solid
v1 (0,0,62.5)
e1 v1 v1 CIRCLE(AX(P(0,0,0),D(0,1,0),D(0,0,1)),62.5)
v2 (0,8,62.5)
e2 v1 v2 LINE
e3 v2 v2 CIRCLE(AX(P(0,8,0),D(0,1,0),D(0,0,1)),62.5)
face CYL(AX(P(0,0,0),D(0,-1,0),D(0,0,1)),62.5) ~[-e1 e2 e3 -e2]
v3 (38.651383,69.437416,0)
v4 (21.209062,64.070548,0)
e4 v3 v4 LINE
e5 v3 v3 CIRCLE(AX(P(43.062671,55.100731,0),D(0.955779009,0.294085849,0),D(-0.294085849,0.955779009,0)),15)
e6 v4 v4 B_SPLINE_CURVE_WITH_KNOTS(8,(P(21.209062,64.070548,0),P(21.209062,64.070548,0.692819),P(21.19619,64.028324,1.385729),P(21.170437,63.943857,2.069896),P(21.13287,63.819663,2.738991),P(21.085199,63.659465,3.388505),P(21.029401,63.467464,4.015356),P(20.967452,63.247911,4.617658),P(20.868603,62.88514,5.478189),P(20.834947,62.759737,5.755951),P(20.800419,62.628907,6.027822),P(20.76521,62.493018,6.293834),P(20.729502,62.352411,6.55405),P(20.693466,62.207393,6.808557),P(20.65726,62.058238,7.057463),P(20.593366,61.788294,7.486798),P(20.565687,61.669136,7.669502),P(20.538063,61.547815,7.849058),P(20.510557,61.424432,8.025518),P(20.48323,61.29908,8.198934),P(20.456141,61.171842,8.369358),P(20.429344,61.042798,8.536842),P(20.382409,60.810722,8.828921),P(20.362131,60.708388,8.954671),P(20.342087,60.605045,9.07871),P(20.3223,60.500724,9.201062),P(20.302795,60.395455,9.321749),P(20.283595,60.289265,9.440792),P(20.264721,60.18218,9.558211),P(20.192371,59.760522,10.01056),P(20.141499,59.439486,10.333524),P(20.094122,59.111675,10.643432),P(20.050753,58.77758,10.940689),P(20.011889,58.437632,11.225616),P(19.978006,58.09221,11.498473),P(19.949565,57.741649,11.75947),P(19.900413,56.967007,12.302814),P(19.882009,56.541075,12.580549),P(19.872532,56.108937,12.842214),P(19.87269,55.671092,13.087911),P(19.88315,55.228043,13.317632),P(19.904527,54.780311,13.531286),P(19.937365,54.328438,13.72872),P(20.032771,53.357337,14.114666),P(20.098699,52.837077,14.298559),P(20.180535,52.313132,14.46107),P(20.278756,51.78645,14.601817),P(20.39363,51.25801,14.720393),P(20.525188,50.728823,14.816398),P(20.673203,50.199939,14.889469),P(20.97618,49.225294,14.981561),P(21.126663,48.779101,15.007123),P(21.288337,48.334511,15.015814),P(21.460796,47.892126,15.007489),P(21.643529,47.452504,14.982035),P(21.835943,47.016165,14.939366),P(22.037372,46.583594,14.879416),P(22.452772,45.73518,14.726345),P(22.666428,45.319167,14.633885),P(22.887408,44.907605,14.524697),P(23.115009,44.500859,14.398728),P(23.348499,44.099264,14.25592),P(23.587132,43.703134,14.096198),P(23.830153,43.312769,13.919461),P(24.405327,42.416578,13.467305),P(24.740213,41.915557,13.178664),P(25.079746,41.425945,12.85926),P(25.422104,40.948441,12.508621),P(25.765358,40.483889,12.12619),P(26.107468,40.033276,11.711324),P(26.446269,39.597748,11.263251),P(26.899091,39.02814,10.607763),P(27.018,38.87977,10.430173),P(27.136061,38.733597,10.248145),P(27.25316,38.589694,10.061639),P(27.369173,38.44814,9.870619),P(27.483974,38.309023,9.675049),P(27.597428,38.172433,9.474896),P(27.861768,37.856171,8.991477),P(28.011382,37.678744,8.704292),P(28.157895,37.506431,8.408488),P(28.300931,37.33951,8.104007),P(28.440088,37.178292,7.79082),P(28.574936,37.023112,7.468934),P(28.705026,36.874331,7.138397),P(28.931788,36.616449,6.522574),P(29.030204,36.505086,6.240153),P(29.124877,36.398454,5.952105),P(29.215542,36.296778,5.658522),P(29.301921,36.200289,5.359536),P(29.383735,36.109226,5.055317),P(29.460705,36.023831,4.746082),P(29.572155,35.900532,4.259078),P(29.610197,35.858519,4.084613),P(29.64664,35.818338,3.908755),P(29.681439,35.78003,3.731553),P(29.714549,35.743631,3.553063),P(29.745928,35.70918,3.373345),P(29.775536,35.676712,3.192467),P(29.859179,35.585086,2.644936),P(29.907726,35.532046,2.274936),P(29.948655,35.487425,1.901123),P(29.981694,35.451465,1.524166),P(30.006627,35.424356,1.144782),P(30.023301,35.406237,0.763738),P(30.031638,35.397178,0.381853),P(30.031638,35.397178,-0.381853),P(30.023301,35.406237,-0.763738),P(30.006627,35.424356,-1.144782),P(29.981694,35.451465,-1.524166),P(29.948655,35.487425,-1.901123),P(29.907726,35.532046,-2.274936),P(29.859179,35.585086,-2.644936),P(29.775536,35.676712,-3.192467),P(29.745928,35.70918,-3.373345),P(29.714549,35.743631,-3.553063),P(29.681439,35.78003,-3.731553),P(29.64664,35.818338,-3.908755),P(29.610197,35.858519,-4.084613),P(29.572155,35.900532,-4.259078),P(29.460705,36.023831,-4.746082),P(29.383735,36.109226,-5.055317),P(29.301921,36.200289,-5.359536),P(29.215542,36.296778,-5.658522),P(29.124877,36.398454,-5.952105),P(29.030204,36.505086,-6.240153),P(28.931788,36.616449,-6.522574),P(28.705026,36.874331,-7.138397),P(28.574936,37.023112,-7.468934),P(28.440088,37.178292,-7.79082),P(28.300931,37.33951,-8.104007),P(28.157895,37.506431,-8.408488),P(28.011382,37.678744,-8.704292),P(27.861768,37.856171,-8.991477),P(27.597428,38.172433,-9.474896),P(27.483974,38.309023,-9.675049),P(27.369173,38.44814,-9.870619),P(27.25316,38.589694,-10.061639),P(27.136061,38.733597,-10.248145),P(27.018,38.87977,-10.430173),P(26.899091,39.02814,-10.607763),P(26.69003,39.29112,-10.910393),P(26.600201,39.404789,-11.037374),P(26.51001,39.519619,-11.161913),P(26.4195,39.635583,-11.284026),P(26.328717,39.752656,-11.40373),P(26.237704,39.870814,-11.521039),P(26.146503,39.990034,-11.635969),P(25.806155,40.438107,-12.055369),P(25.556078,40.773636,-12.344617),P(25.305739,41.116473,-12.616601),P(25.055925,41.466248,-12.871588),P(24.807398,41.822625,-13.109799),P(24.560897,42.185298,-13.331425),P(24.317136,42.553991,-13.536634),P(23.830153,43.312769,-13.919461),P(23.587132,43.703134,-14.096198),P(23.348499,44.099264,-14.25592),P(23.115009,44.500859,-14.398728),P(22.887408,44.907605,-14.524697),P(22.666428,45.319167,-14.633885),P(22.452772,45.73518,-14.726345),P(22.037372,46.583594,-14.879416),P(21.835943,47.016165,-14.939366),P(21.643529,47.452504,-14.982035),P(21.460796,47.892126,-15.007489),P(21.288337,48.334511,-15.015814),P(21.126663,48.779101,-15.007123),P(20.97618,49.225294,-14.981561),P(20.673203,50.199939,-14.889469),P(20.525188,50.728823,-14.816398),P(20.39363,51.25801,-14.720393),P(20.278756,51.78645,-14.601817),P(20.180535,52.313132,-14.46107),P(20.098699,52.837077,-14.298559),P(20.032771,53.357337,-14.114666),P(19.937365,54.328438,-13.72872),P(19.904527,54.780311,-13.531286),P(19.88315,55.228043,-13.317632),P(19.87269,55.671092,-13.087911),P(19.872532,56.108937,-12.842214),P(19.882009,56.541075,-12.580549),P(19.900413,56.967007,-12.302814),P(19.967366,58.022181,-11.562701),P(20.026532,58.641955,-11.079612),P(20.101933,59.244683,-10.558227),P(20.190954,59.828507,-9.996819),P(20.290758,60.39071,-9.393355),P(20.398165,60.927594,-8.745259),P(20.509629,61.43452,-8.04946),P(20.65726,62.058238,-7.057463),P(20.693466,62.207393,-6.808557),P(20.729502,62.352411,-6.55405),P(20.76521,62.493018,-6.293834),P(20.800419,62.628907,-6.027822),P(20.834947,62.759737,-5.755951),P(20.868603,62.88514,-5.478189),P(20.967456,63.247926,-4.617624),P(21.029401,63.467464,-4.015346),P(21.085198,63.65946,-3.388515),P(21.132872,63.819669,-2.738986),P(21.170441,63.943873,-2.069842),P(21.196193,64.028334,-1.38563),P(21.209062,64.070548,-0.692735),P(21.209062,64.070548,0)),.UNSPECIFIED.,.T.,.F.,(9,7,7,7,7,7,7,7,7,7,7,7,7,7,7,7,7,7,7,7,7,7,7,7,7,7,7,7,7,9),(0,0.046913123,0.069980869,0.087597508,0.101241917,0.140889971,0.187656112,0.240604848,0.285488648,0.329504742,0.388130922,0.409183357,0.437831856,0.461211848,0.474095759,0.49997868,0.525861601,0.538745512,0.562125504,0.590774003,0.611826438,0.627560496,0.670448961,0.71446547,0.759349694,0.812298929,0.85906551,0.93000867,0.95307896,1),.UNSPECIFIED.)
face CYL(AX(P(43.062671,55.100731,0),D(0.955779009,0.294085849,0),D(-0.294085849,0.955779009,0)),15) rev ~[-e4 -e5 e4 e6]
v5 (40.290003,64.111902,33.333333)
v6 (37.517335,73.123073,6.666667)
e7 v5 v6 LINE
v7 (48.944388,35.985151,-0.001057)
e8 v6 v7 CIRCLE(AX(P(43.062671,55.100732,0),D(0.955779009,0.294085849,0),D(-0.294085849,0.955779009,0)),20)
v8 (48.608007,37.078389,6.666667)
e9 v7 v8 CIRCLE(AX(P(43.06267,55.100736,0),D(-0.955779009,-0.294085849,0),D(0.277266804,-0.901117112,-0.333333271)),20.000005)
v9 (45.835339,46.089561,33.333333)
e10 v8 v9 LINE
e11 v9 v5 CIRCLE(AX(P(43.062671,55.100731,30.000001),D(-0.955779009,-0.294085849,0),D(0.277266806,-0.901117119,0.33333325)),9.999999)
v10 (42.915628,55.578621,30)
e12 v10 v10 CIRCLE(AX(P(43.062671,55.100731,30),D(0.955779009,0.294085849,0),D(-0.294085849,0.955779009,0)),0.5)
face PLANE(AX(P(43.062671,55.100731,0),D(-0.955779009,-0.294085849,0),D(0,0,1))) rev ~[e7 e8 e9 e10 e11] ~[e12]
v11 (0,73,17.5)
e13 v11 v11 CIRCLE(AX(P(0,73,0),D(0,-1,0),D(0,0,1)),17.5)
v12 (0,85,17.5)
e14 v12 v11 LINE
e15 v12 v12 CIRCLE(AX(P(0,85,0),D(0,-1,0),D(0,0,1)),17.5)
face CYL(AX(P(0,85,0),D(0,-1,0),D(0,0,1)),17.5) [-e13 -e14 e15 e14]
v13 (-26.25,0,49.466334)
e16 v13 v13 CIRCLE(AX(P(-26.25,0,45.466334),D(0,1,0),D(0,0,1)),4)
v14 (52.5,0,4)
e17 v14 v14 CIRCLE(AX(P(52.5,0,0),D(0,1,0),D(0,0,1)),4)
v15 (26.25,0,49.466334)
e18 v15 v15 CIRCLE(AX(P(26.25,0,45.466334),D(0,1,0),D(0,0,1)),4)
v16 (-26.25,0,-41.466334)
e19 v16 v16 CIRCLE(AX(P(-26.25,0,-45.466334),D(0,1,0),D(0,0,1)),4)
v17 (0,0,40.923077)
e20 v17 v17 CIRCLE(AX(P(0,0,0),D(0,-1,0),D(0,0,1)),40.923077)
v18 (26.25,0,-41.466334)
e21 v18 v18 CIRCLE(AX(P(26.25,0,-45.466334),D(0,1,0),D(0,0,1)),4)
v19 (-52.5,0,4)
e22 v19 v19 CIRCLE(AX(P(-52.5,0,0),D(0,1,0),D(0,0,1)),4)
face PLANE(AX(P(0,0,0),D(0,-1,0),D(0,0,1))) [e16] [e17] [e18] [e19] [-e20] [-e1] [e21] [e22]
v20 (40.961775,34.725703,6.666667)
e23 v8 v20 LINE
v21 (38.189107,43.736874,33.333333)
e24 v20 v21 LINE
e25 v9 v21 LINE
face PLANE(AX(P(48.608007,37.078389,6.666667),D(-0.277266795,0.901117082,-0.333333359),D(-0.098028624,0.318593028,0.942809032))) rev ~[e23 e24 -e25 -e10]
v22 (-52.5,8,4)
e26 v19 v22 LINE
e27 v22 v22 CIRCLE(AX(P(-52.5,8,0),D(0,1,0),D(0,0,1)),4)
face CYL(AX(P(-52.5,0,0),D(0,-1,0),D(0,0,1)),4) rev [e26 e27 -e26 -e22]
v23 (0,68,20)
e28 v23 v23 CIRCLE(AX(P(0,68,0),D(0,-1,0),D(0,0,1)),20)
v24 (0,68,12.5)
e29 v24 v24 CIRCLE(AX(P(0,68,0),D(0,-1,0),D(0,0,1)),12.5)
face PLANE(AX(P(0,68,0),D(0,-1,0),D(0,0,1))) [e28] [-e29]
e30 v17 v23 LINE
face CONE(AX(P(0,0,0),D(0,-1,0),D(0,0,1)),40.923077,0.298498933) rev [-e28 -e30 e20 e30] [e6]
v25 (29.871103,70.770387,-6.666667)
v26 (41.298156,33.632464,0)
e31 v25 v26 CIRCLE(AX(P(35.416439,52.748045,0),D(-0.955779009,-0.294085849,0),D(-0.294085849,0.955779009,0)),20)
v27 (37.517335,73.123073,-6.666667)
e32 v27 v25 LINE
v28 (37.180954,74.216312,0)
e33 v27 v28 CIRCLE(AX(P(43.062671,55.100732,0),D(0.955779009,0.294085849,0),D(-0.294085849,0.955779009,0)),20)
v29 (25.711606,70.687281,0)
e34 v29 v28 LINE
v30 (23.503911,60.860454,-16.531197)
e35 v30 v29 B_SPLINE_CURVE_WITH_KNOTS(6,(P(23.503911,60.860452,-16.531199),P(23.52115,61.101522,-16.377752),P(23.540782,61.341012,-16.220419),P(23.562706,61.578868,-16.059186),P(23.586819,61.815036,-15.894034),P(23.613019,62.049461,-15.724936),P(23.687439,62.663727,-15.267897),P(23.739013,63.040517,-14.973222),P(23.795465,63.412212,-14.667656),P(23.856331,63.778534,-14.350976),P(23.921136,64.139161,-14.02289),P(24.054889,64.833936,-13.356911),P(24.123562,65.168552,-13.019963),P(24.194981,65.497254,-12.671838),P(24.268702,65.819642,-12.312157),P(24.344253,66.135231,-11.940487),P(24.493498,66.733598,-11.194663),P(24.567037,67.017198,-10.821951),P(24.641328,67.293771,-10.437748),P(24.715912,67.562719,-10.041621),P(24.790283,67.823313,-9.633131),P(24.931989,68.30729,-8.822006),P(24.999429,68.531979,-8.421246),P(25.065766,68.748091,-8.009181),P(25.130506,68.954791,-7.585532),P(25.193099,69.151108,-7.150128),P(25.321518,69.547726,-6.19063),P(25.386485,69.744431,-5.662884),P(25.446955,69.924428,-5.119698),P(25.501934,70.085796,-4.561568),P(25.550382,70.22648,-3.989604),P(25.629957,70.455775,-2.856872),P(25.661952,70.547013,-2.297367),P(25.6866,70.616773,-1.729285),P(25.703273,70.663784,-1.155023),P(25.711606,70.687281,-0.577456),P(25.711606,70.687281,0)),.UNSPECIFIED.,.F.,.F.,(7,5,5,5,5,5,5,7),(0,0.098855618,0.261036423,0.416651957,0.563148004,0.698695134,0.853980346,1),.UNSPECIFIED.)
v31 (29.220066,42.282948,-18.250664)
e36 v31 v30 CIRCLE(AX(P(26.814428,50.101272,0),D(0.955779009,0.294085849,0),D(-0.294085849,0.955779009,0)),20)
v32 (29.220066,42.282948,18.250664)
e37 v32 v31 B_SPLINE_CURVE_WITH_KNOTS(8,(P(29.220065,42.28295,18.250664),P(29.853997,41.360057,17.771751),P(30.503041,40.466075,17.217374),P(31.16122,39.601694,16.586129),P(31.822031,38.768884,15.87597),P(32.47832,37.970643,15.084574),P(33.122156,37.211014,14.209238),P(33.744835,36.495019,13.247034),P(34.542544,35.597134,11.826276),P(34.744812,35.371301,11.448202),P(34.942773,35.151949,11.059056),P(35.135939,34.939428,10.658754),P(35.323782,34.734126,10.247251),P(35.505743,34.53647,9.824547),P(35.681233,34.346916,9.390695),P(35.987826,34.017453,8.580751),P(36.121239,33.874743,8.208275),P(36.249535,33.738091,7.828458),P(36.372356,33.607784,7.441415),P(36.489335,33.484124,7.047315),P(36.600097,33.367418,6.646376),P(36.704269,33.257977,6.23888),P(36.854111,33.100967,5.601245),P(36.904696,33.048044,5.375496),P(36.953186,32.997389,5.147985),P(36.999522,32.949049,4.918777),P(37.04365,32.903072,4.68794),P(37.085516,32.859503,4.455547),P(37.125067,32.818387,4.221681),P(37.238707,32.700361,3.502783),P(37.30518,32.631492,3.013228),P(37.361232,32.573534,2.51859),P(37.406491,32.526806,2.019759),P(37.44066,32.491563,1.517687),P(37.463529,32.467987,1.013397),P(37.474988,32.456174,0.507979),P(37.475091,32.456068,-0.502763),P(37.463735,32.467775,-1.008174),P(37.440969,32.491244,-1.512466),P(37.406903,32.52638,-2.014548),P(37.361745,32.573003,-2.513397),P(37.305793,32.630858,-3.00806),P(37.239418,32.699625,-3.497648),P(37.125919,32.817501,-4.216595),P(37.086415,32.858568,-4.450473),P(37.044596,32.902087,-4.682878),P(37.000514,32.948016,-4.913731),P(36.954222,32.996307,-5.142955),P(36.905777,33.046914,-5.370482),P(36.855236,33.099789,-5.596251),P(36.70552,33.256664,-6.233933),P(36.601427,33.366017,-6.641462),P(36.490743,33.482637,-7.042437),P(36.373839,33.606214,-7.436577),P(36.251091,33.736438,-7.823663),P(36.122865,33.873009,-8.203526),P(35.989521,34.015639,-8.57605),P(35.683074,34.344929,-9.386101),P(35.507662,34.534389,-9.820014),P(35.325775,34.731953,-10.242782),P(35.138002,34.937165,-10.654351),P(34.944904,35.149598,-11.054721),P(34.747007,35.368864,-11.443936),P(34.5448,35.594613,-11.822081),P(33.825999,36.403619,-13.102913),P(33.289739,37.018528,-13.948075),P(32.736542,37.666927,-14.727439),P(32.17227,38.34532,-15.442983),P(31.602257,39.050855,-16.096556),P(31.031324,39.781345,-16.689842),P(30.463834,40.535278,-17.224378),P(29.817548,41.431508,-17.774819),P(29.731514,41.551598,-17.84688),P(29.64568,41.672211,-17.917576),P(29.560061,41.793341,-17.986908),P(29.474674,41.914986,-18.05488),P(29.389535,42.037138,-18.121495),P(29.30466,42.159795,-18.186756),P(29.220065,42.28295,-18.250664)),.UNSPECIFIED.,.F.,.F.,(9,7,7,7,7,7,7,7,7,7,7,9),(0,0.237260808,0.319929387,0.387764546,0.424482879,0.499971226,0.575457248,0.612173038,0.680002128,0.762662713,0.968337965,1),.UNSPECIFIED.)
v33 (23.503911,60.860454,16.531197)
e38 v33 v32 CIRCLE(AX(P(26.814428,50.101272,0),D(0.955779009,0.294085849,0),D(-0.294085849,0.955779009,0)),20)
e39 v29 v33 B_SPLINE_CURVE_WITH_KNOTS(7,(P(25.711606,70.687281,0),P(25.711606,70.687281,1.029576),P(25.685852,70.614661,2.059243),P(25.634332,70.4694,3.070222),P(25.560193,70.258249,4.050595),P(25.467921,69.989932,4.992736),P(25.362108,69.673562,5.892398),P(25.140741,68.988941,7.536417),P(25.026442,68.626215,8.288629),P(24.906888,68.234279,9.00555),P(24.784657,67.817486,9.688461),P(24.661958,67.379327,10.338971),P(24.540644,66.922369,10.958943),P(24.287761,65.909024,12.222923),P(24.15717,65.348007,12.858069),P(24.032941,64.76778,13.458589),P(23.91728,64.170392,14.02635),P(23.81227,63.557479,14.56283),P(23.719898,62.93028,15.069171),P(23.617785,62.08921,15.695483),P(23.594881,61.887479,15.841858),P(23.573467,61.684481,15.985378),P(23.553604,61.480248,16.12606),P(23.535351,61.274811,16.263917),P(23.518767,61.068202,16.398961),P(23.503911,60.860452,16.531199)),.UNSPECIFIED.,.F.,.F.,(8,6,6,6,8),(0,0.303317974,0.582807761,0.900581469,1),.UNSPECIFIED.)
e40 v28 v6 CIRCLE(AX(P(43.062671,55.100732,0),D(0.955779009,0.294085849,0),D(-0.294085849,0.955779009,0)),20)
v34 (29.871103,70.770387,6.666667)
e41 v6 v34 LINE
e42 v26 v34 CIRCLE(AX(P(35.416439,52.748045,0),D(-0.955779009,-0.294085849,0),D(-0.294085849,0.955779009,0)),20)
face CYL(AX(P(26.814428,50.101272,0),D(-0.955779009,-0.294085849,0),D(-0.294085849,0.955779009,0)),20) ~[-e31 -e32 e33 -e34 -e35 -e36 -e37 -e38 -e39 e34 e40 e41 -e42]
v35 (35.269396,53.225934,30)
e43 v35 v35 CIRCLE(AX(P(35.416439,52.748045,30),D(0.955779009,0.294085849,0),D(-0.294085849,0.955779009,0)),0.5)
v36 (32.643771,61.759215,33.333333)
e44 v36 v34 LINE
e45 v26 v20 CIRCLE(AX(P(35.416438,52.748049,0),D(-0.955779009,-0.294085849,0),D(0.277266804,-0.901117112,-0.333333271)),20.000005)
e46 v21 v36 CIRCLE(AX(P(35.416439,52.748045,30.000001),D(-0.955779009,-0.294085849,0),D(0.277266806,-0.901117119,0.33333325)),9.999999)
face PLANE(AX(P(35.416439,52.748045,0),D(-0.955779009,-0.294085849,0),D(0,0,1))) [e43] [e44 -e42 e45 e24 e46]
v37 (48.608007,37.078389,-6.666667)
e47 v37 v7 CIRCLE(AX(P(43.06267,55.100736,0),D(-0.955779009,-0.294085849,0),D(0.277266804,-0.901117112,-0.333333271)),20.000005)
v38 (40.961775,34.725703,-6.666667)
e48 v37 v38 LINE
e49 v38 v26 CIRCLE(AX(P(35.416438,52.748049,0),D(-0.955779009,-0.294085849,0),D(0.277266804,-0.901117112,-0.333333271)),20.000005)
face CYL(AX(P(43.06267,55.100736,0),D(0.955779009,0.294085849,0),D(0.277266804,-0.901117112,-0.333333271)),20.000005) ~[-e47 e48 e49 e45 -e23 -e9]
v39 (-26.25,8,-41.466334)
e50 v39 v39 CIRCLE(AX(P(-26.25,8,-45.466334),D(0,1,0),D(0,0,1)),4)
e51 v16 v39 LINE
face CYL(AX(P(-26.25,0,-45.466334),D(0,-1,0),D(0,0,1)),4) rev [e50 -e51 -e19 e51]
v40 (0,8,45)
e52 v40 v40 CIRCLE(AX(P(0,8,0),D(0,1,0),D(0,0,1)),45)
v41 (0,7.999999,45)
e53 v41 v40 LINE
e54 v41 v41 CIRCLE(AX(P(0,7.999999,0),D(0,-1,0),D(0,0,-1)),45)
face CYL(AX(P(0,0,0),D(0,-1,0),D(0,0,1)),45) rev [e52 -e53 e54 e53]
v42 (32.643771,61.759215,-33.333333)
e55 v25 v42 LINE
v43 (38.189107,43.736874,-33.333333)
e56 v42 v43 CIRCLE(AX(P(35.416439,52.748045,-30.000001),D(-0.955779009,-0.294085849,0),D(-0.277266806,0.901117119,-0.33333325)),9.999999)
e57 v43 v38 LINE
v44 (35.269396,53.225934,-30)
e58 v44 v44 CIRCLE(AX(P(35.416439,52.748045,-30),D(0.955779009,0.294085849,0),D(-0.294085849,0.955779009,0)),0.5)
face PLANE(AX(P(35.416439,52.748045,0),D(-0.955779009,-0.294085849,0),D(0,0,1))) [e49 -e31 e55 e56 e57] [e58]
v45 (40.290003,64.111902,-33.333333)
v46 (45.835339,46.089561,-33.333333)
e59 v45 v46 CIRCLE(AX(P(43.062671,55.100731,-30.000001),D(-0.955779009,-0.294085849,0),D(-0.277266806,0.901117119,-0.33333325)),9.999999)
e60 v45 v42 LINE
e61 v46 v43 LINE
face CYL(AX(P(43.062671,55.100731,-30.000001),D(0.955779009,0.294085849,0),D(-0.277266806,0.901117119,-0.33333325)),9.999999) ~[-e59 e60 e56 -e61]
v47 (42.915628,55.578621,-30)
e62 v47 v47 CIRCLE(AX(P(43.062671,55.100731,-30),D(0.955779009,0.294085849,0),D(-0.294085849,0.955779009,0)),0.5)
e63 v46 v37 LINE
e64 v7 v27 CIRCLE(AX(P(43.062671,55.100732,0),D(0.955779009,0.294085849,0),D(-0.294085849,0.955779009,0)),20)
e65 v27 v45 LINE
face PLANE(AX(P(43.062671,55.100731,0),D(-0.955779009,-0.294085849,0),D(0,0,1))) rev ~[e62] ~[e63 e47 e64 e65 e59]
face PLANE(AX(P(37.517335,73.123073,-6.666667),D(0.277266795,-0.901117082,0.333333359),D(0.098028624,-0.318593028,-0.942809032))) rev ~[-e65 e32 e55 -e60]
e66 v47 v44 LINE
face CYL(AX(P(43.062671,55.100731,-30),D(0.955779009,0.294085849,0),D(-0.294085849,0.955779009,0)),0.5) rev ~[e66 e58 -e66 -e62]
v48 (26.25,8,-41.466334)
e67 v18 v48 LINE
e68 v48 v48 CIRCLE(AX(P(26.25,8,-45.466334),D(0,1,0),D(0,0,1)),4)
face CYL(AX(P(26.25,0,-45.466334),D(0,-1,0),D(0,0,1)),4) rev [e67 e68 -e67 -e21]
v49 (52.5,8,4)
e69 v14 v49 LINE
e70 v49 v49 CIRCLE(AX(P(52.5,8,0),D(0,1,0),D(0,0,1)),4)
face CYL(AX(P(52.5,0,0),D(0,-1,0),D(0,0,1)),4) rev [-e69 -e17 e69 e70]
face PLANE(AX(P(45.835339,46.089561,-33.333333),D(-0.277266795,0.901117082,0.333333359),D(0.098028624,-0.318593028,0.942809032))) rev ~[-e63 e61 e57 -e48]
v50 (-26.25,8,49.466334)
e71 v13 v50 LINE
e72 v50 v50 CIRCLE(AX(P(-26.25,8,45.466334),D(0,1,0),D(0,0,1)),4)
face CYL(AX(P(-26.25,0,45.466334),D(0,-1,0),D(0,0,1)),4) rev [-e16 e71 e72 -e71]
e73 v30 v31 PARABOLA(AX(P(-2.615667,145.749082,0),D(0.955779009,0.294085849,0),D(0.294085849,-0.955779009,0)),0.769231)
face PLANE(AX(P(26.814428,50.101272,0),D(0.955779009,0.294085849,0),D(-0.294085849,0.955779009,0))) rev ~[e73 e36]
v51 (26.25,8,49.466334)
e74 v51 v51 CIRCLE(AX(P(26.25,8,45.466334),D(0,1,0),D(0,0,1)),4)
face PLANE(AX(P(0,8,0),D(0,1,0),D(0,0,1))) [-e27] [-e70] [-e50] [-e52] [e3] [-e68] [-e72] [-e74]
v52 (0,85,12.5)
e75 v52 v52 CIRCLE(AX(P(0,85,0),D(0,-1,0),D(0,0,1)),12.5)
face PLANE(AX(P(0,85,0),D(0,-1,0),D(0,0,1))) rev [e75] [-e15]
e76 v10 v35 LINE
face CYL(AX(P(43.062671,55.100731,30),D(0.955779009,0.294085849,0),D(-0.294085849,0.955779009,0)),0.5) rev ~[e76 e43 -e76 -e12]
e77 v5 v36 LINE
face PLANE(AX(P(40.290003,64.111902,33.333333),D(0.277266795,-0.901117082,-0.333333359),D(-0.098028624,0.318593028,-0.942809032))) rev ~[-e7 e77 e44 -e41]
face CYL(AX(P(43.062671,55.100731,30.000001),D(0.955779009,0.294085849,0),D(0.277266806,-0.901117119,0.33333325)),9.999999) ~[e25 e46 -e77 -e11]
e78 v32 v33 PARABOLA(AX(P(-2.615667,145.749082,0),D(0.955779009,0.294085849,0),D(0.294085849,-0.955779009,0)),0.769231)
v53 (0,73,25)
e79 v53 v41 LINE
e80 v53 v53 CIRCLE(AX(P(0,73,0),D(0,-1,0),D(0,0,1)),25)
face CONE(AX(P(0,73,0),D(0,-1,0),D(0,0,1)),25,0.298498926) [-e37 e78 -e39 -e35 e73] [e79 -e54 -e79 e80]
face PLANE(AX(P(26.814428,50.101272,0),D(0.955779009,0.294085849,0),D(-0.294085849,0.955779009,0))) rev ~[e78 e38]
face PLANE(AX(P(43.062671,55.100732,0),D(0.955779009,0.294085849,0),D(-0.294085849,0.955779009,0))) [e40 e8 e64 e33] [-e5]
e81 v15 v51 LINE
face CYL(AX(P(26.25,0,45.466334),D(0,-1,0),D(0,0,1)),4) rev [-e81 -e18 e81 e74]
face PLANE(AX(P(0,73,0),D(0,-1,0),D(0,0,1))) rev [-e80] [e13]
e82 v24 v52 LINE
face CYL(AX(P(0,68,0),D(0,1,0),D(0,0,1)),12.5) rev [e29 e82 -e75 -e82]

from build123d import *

# Parameters (mm, degrees)
SKETCH_1_R           = 62.5
SKETCH_1_R_2         = 45
EXTRUDE_2_DEPTH      = 8
SKETCH_3_R           = 4
CUT_EXTRUDE_1_DEPTH  = 8
EXTRUDE_3_DEPTH      = 12
EXTRUDE_3_DEPTH_BACK = 5
SKETCH_8_R           = 20
SKETCH_9_R           = 0.5
EXTRUDE_4_DEPTH      = 8
SKETCH_10_R          = 15
CUT_EXTRUDE_2_DEPTH  = 25


with BuildPart() as part:
    # 草图1 → 凸台-拉伸2 (new body)
    with BuildSketch(Plane(origin=(0, 0, 0), x_dir=(1, 0, 0), z_dir=(0, 1, 0))):
        with Locations(Location((0, 0, 0), (0, 0, 270))):
            Circle(SKETCH_1_R)
        with Locations(Location((0, 0, 0), (0, 0, 270))):
            Circle(SKETCH_1_R_2, mode=Mode.SUBTRACT)
    extrude(amount=EXTRUDE_2_DEPTH)

    # 草图3 → 切除-拉伸1 (cut)
    with BuildSketch(Plane(origin=(0, 0, 0), x_dir=(1, 0, 0), z_dir=(0, 1, 0))):
        with Locations(Location((-52.5, 0, 0), (0, 0, 270))):
            Circle(SKETCH_3_R)
        with Locations(Location((-26.25, 45.466334, 0), (0, 0, 270))):
            Circle(SKETCH_3_R)
        with Locations(Location((26.25, 45.466334, 0), (0, 0, 270))):
            Circle(SKETCH_3_R)
        with Locations(Location((52.5, 0, 0), (0, 0, 270))):
            Circle(SKETCH_3_R)
        with Locations(Location((26.25, -45.466334, 0), (0, 0, 270))):
            Circle(SKETCH_3_R)
        with Locations(Location((-26.25, -45.466334, 0), (0, 0, 270))):
            Circle(SKETCH_3_R)
    extrude(amount=CUT_EXTRUDE_1_DEPTH, mode=Mode.SUBTRACT)

    # 草图7 → 旋转5 (revolve)
    with BuildSketch(Plane.XY, mode=Mode.PRIVATE) as revolve_5_sk:
        Polygon((-12.5, 85), (-17.5, 85), (-17.5, 73), (-25, 73), (-47.461538, 0), (-40.923077, 0), (-20, 68), (-12.5, 68), (-12.5, 73), align=None)
    revolve(revolve_5_sk.sketch.rotate(Axis((0, 89.25, 0), (0, -1, 0)), 270), axis=Axis((0, 89.25, 0), (0, -1, 0)))

    # 草图8 → 凸台-拉伸3 (add, two sides: drawn at the far end of the back side and taken through both)
    with BuildSketch(Plane(origin=(43.356757, 13.340541, 0), x_dir=(0, 0, -1), z_dir=(0.9557790087219498, 0.29408584883752426, 0)).offset(-EXTRUDE_3_DEPTH_BACK)):
        with Locations(Location((0, 40, 0), (0, 0, 90))):
            Circle(SKETCH_8_R)
    extrude(amount=EXTRUDE_3_DEPTH + EXTRUDE_3_DEPTH_BACK)

    # 草图9 → 凸台-拉伸4 (add)
    with BuildSketch(Plane(origin=(54.826105, 16.869571, 0), x_dir=(0, 0, -1), z_dir=(0.9557790087219498, 0.29408584883752426, 0))):
        with BuildLine():
            Line((-33.333333, 49.42809), (-6.666667, 58.856181))
            ThreePointArc((-6.666667, 58.856181), (0, 60), (6.666667, 58.856181))
            Line((6.666667, 58.856181), (33.333333, 49.42809))
            ThreePointArc((33.333333, 49.42809), (40, 40), (33.333333, 30.57191))
            Line((33.333333, 30.57191), (6.666667, 21.143819))
            ThreePointArc((6.666667, 21.143819), (0, 20), (-6.666667, 21.143819))
            Line((-6.666667, 21.143819), (-33.333333, 30.57191))
            ThreePointArc((-33.333333, 30.57191), (-40, 40), (-33.333333, 49.42809))
        make_face()
        with Locations(Location((-30, 40, 0), (0, 0, 90))):
            Circle(SKETCH_9_R, mode=Mode.SUBTRACT)
        with Locations(Location((30, 40, 0), (0, 0, 90))):
            Circle(SKETCH_9_R, mode=Mode.SUBTRACT)
    extrude(amount=-EXTRUDE_4_DEPTH)

    # 草图10 → 切除-拉伸2 (cut)
    with BuildSketch(Plane(origin=(54.826105, 16.869571, 0), x_dir=(0, 0, -1), z_dir=(0.9557790087219498, 0.29408584883752426, 0))):
        with Locations(Location((0, 40, 0), (0, 0, 90))):
            Circle(SKETCH_10_R)
    extrude(amount=-CUT_EXTRUDE_2_DEPTH, mode=Mode.SUBTRACT)


solid = part.part
